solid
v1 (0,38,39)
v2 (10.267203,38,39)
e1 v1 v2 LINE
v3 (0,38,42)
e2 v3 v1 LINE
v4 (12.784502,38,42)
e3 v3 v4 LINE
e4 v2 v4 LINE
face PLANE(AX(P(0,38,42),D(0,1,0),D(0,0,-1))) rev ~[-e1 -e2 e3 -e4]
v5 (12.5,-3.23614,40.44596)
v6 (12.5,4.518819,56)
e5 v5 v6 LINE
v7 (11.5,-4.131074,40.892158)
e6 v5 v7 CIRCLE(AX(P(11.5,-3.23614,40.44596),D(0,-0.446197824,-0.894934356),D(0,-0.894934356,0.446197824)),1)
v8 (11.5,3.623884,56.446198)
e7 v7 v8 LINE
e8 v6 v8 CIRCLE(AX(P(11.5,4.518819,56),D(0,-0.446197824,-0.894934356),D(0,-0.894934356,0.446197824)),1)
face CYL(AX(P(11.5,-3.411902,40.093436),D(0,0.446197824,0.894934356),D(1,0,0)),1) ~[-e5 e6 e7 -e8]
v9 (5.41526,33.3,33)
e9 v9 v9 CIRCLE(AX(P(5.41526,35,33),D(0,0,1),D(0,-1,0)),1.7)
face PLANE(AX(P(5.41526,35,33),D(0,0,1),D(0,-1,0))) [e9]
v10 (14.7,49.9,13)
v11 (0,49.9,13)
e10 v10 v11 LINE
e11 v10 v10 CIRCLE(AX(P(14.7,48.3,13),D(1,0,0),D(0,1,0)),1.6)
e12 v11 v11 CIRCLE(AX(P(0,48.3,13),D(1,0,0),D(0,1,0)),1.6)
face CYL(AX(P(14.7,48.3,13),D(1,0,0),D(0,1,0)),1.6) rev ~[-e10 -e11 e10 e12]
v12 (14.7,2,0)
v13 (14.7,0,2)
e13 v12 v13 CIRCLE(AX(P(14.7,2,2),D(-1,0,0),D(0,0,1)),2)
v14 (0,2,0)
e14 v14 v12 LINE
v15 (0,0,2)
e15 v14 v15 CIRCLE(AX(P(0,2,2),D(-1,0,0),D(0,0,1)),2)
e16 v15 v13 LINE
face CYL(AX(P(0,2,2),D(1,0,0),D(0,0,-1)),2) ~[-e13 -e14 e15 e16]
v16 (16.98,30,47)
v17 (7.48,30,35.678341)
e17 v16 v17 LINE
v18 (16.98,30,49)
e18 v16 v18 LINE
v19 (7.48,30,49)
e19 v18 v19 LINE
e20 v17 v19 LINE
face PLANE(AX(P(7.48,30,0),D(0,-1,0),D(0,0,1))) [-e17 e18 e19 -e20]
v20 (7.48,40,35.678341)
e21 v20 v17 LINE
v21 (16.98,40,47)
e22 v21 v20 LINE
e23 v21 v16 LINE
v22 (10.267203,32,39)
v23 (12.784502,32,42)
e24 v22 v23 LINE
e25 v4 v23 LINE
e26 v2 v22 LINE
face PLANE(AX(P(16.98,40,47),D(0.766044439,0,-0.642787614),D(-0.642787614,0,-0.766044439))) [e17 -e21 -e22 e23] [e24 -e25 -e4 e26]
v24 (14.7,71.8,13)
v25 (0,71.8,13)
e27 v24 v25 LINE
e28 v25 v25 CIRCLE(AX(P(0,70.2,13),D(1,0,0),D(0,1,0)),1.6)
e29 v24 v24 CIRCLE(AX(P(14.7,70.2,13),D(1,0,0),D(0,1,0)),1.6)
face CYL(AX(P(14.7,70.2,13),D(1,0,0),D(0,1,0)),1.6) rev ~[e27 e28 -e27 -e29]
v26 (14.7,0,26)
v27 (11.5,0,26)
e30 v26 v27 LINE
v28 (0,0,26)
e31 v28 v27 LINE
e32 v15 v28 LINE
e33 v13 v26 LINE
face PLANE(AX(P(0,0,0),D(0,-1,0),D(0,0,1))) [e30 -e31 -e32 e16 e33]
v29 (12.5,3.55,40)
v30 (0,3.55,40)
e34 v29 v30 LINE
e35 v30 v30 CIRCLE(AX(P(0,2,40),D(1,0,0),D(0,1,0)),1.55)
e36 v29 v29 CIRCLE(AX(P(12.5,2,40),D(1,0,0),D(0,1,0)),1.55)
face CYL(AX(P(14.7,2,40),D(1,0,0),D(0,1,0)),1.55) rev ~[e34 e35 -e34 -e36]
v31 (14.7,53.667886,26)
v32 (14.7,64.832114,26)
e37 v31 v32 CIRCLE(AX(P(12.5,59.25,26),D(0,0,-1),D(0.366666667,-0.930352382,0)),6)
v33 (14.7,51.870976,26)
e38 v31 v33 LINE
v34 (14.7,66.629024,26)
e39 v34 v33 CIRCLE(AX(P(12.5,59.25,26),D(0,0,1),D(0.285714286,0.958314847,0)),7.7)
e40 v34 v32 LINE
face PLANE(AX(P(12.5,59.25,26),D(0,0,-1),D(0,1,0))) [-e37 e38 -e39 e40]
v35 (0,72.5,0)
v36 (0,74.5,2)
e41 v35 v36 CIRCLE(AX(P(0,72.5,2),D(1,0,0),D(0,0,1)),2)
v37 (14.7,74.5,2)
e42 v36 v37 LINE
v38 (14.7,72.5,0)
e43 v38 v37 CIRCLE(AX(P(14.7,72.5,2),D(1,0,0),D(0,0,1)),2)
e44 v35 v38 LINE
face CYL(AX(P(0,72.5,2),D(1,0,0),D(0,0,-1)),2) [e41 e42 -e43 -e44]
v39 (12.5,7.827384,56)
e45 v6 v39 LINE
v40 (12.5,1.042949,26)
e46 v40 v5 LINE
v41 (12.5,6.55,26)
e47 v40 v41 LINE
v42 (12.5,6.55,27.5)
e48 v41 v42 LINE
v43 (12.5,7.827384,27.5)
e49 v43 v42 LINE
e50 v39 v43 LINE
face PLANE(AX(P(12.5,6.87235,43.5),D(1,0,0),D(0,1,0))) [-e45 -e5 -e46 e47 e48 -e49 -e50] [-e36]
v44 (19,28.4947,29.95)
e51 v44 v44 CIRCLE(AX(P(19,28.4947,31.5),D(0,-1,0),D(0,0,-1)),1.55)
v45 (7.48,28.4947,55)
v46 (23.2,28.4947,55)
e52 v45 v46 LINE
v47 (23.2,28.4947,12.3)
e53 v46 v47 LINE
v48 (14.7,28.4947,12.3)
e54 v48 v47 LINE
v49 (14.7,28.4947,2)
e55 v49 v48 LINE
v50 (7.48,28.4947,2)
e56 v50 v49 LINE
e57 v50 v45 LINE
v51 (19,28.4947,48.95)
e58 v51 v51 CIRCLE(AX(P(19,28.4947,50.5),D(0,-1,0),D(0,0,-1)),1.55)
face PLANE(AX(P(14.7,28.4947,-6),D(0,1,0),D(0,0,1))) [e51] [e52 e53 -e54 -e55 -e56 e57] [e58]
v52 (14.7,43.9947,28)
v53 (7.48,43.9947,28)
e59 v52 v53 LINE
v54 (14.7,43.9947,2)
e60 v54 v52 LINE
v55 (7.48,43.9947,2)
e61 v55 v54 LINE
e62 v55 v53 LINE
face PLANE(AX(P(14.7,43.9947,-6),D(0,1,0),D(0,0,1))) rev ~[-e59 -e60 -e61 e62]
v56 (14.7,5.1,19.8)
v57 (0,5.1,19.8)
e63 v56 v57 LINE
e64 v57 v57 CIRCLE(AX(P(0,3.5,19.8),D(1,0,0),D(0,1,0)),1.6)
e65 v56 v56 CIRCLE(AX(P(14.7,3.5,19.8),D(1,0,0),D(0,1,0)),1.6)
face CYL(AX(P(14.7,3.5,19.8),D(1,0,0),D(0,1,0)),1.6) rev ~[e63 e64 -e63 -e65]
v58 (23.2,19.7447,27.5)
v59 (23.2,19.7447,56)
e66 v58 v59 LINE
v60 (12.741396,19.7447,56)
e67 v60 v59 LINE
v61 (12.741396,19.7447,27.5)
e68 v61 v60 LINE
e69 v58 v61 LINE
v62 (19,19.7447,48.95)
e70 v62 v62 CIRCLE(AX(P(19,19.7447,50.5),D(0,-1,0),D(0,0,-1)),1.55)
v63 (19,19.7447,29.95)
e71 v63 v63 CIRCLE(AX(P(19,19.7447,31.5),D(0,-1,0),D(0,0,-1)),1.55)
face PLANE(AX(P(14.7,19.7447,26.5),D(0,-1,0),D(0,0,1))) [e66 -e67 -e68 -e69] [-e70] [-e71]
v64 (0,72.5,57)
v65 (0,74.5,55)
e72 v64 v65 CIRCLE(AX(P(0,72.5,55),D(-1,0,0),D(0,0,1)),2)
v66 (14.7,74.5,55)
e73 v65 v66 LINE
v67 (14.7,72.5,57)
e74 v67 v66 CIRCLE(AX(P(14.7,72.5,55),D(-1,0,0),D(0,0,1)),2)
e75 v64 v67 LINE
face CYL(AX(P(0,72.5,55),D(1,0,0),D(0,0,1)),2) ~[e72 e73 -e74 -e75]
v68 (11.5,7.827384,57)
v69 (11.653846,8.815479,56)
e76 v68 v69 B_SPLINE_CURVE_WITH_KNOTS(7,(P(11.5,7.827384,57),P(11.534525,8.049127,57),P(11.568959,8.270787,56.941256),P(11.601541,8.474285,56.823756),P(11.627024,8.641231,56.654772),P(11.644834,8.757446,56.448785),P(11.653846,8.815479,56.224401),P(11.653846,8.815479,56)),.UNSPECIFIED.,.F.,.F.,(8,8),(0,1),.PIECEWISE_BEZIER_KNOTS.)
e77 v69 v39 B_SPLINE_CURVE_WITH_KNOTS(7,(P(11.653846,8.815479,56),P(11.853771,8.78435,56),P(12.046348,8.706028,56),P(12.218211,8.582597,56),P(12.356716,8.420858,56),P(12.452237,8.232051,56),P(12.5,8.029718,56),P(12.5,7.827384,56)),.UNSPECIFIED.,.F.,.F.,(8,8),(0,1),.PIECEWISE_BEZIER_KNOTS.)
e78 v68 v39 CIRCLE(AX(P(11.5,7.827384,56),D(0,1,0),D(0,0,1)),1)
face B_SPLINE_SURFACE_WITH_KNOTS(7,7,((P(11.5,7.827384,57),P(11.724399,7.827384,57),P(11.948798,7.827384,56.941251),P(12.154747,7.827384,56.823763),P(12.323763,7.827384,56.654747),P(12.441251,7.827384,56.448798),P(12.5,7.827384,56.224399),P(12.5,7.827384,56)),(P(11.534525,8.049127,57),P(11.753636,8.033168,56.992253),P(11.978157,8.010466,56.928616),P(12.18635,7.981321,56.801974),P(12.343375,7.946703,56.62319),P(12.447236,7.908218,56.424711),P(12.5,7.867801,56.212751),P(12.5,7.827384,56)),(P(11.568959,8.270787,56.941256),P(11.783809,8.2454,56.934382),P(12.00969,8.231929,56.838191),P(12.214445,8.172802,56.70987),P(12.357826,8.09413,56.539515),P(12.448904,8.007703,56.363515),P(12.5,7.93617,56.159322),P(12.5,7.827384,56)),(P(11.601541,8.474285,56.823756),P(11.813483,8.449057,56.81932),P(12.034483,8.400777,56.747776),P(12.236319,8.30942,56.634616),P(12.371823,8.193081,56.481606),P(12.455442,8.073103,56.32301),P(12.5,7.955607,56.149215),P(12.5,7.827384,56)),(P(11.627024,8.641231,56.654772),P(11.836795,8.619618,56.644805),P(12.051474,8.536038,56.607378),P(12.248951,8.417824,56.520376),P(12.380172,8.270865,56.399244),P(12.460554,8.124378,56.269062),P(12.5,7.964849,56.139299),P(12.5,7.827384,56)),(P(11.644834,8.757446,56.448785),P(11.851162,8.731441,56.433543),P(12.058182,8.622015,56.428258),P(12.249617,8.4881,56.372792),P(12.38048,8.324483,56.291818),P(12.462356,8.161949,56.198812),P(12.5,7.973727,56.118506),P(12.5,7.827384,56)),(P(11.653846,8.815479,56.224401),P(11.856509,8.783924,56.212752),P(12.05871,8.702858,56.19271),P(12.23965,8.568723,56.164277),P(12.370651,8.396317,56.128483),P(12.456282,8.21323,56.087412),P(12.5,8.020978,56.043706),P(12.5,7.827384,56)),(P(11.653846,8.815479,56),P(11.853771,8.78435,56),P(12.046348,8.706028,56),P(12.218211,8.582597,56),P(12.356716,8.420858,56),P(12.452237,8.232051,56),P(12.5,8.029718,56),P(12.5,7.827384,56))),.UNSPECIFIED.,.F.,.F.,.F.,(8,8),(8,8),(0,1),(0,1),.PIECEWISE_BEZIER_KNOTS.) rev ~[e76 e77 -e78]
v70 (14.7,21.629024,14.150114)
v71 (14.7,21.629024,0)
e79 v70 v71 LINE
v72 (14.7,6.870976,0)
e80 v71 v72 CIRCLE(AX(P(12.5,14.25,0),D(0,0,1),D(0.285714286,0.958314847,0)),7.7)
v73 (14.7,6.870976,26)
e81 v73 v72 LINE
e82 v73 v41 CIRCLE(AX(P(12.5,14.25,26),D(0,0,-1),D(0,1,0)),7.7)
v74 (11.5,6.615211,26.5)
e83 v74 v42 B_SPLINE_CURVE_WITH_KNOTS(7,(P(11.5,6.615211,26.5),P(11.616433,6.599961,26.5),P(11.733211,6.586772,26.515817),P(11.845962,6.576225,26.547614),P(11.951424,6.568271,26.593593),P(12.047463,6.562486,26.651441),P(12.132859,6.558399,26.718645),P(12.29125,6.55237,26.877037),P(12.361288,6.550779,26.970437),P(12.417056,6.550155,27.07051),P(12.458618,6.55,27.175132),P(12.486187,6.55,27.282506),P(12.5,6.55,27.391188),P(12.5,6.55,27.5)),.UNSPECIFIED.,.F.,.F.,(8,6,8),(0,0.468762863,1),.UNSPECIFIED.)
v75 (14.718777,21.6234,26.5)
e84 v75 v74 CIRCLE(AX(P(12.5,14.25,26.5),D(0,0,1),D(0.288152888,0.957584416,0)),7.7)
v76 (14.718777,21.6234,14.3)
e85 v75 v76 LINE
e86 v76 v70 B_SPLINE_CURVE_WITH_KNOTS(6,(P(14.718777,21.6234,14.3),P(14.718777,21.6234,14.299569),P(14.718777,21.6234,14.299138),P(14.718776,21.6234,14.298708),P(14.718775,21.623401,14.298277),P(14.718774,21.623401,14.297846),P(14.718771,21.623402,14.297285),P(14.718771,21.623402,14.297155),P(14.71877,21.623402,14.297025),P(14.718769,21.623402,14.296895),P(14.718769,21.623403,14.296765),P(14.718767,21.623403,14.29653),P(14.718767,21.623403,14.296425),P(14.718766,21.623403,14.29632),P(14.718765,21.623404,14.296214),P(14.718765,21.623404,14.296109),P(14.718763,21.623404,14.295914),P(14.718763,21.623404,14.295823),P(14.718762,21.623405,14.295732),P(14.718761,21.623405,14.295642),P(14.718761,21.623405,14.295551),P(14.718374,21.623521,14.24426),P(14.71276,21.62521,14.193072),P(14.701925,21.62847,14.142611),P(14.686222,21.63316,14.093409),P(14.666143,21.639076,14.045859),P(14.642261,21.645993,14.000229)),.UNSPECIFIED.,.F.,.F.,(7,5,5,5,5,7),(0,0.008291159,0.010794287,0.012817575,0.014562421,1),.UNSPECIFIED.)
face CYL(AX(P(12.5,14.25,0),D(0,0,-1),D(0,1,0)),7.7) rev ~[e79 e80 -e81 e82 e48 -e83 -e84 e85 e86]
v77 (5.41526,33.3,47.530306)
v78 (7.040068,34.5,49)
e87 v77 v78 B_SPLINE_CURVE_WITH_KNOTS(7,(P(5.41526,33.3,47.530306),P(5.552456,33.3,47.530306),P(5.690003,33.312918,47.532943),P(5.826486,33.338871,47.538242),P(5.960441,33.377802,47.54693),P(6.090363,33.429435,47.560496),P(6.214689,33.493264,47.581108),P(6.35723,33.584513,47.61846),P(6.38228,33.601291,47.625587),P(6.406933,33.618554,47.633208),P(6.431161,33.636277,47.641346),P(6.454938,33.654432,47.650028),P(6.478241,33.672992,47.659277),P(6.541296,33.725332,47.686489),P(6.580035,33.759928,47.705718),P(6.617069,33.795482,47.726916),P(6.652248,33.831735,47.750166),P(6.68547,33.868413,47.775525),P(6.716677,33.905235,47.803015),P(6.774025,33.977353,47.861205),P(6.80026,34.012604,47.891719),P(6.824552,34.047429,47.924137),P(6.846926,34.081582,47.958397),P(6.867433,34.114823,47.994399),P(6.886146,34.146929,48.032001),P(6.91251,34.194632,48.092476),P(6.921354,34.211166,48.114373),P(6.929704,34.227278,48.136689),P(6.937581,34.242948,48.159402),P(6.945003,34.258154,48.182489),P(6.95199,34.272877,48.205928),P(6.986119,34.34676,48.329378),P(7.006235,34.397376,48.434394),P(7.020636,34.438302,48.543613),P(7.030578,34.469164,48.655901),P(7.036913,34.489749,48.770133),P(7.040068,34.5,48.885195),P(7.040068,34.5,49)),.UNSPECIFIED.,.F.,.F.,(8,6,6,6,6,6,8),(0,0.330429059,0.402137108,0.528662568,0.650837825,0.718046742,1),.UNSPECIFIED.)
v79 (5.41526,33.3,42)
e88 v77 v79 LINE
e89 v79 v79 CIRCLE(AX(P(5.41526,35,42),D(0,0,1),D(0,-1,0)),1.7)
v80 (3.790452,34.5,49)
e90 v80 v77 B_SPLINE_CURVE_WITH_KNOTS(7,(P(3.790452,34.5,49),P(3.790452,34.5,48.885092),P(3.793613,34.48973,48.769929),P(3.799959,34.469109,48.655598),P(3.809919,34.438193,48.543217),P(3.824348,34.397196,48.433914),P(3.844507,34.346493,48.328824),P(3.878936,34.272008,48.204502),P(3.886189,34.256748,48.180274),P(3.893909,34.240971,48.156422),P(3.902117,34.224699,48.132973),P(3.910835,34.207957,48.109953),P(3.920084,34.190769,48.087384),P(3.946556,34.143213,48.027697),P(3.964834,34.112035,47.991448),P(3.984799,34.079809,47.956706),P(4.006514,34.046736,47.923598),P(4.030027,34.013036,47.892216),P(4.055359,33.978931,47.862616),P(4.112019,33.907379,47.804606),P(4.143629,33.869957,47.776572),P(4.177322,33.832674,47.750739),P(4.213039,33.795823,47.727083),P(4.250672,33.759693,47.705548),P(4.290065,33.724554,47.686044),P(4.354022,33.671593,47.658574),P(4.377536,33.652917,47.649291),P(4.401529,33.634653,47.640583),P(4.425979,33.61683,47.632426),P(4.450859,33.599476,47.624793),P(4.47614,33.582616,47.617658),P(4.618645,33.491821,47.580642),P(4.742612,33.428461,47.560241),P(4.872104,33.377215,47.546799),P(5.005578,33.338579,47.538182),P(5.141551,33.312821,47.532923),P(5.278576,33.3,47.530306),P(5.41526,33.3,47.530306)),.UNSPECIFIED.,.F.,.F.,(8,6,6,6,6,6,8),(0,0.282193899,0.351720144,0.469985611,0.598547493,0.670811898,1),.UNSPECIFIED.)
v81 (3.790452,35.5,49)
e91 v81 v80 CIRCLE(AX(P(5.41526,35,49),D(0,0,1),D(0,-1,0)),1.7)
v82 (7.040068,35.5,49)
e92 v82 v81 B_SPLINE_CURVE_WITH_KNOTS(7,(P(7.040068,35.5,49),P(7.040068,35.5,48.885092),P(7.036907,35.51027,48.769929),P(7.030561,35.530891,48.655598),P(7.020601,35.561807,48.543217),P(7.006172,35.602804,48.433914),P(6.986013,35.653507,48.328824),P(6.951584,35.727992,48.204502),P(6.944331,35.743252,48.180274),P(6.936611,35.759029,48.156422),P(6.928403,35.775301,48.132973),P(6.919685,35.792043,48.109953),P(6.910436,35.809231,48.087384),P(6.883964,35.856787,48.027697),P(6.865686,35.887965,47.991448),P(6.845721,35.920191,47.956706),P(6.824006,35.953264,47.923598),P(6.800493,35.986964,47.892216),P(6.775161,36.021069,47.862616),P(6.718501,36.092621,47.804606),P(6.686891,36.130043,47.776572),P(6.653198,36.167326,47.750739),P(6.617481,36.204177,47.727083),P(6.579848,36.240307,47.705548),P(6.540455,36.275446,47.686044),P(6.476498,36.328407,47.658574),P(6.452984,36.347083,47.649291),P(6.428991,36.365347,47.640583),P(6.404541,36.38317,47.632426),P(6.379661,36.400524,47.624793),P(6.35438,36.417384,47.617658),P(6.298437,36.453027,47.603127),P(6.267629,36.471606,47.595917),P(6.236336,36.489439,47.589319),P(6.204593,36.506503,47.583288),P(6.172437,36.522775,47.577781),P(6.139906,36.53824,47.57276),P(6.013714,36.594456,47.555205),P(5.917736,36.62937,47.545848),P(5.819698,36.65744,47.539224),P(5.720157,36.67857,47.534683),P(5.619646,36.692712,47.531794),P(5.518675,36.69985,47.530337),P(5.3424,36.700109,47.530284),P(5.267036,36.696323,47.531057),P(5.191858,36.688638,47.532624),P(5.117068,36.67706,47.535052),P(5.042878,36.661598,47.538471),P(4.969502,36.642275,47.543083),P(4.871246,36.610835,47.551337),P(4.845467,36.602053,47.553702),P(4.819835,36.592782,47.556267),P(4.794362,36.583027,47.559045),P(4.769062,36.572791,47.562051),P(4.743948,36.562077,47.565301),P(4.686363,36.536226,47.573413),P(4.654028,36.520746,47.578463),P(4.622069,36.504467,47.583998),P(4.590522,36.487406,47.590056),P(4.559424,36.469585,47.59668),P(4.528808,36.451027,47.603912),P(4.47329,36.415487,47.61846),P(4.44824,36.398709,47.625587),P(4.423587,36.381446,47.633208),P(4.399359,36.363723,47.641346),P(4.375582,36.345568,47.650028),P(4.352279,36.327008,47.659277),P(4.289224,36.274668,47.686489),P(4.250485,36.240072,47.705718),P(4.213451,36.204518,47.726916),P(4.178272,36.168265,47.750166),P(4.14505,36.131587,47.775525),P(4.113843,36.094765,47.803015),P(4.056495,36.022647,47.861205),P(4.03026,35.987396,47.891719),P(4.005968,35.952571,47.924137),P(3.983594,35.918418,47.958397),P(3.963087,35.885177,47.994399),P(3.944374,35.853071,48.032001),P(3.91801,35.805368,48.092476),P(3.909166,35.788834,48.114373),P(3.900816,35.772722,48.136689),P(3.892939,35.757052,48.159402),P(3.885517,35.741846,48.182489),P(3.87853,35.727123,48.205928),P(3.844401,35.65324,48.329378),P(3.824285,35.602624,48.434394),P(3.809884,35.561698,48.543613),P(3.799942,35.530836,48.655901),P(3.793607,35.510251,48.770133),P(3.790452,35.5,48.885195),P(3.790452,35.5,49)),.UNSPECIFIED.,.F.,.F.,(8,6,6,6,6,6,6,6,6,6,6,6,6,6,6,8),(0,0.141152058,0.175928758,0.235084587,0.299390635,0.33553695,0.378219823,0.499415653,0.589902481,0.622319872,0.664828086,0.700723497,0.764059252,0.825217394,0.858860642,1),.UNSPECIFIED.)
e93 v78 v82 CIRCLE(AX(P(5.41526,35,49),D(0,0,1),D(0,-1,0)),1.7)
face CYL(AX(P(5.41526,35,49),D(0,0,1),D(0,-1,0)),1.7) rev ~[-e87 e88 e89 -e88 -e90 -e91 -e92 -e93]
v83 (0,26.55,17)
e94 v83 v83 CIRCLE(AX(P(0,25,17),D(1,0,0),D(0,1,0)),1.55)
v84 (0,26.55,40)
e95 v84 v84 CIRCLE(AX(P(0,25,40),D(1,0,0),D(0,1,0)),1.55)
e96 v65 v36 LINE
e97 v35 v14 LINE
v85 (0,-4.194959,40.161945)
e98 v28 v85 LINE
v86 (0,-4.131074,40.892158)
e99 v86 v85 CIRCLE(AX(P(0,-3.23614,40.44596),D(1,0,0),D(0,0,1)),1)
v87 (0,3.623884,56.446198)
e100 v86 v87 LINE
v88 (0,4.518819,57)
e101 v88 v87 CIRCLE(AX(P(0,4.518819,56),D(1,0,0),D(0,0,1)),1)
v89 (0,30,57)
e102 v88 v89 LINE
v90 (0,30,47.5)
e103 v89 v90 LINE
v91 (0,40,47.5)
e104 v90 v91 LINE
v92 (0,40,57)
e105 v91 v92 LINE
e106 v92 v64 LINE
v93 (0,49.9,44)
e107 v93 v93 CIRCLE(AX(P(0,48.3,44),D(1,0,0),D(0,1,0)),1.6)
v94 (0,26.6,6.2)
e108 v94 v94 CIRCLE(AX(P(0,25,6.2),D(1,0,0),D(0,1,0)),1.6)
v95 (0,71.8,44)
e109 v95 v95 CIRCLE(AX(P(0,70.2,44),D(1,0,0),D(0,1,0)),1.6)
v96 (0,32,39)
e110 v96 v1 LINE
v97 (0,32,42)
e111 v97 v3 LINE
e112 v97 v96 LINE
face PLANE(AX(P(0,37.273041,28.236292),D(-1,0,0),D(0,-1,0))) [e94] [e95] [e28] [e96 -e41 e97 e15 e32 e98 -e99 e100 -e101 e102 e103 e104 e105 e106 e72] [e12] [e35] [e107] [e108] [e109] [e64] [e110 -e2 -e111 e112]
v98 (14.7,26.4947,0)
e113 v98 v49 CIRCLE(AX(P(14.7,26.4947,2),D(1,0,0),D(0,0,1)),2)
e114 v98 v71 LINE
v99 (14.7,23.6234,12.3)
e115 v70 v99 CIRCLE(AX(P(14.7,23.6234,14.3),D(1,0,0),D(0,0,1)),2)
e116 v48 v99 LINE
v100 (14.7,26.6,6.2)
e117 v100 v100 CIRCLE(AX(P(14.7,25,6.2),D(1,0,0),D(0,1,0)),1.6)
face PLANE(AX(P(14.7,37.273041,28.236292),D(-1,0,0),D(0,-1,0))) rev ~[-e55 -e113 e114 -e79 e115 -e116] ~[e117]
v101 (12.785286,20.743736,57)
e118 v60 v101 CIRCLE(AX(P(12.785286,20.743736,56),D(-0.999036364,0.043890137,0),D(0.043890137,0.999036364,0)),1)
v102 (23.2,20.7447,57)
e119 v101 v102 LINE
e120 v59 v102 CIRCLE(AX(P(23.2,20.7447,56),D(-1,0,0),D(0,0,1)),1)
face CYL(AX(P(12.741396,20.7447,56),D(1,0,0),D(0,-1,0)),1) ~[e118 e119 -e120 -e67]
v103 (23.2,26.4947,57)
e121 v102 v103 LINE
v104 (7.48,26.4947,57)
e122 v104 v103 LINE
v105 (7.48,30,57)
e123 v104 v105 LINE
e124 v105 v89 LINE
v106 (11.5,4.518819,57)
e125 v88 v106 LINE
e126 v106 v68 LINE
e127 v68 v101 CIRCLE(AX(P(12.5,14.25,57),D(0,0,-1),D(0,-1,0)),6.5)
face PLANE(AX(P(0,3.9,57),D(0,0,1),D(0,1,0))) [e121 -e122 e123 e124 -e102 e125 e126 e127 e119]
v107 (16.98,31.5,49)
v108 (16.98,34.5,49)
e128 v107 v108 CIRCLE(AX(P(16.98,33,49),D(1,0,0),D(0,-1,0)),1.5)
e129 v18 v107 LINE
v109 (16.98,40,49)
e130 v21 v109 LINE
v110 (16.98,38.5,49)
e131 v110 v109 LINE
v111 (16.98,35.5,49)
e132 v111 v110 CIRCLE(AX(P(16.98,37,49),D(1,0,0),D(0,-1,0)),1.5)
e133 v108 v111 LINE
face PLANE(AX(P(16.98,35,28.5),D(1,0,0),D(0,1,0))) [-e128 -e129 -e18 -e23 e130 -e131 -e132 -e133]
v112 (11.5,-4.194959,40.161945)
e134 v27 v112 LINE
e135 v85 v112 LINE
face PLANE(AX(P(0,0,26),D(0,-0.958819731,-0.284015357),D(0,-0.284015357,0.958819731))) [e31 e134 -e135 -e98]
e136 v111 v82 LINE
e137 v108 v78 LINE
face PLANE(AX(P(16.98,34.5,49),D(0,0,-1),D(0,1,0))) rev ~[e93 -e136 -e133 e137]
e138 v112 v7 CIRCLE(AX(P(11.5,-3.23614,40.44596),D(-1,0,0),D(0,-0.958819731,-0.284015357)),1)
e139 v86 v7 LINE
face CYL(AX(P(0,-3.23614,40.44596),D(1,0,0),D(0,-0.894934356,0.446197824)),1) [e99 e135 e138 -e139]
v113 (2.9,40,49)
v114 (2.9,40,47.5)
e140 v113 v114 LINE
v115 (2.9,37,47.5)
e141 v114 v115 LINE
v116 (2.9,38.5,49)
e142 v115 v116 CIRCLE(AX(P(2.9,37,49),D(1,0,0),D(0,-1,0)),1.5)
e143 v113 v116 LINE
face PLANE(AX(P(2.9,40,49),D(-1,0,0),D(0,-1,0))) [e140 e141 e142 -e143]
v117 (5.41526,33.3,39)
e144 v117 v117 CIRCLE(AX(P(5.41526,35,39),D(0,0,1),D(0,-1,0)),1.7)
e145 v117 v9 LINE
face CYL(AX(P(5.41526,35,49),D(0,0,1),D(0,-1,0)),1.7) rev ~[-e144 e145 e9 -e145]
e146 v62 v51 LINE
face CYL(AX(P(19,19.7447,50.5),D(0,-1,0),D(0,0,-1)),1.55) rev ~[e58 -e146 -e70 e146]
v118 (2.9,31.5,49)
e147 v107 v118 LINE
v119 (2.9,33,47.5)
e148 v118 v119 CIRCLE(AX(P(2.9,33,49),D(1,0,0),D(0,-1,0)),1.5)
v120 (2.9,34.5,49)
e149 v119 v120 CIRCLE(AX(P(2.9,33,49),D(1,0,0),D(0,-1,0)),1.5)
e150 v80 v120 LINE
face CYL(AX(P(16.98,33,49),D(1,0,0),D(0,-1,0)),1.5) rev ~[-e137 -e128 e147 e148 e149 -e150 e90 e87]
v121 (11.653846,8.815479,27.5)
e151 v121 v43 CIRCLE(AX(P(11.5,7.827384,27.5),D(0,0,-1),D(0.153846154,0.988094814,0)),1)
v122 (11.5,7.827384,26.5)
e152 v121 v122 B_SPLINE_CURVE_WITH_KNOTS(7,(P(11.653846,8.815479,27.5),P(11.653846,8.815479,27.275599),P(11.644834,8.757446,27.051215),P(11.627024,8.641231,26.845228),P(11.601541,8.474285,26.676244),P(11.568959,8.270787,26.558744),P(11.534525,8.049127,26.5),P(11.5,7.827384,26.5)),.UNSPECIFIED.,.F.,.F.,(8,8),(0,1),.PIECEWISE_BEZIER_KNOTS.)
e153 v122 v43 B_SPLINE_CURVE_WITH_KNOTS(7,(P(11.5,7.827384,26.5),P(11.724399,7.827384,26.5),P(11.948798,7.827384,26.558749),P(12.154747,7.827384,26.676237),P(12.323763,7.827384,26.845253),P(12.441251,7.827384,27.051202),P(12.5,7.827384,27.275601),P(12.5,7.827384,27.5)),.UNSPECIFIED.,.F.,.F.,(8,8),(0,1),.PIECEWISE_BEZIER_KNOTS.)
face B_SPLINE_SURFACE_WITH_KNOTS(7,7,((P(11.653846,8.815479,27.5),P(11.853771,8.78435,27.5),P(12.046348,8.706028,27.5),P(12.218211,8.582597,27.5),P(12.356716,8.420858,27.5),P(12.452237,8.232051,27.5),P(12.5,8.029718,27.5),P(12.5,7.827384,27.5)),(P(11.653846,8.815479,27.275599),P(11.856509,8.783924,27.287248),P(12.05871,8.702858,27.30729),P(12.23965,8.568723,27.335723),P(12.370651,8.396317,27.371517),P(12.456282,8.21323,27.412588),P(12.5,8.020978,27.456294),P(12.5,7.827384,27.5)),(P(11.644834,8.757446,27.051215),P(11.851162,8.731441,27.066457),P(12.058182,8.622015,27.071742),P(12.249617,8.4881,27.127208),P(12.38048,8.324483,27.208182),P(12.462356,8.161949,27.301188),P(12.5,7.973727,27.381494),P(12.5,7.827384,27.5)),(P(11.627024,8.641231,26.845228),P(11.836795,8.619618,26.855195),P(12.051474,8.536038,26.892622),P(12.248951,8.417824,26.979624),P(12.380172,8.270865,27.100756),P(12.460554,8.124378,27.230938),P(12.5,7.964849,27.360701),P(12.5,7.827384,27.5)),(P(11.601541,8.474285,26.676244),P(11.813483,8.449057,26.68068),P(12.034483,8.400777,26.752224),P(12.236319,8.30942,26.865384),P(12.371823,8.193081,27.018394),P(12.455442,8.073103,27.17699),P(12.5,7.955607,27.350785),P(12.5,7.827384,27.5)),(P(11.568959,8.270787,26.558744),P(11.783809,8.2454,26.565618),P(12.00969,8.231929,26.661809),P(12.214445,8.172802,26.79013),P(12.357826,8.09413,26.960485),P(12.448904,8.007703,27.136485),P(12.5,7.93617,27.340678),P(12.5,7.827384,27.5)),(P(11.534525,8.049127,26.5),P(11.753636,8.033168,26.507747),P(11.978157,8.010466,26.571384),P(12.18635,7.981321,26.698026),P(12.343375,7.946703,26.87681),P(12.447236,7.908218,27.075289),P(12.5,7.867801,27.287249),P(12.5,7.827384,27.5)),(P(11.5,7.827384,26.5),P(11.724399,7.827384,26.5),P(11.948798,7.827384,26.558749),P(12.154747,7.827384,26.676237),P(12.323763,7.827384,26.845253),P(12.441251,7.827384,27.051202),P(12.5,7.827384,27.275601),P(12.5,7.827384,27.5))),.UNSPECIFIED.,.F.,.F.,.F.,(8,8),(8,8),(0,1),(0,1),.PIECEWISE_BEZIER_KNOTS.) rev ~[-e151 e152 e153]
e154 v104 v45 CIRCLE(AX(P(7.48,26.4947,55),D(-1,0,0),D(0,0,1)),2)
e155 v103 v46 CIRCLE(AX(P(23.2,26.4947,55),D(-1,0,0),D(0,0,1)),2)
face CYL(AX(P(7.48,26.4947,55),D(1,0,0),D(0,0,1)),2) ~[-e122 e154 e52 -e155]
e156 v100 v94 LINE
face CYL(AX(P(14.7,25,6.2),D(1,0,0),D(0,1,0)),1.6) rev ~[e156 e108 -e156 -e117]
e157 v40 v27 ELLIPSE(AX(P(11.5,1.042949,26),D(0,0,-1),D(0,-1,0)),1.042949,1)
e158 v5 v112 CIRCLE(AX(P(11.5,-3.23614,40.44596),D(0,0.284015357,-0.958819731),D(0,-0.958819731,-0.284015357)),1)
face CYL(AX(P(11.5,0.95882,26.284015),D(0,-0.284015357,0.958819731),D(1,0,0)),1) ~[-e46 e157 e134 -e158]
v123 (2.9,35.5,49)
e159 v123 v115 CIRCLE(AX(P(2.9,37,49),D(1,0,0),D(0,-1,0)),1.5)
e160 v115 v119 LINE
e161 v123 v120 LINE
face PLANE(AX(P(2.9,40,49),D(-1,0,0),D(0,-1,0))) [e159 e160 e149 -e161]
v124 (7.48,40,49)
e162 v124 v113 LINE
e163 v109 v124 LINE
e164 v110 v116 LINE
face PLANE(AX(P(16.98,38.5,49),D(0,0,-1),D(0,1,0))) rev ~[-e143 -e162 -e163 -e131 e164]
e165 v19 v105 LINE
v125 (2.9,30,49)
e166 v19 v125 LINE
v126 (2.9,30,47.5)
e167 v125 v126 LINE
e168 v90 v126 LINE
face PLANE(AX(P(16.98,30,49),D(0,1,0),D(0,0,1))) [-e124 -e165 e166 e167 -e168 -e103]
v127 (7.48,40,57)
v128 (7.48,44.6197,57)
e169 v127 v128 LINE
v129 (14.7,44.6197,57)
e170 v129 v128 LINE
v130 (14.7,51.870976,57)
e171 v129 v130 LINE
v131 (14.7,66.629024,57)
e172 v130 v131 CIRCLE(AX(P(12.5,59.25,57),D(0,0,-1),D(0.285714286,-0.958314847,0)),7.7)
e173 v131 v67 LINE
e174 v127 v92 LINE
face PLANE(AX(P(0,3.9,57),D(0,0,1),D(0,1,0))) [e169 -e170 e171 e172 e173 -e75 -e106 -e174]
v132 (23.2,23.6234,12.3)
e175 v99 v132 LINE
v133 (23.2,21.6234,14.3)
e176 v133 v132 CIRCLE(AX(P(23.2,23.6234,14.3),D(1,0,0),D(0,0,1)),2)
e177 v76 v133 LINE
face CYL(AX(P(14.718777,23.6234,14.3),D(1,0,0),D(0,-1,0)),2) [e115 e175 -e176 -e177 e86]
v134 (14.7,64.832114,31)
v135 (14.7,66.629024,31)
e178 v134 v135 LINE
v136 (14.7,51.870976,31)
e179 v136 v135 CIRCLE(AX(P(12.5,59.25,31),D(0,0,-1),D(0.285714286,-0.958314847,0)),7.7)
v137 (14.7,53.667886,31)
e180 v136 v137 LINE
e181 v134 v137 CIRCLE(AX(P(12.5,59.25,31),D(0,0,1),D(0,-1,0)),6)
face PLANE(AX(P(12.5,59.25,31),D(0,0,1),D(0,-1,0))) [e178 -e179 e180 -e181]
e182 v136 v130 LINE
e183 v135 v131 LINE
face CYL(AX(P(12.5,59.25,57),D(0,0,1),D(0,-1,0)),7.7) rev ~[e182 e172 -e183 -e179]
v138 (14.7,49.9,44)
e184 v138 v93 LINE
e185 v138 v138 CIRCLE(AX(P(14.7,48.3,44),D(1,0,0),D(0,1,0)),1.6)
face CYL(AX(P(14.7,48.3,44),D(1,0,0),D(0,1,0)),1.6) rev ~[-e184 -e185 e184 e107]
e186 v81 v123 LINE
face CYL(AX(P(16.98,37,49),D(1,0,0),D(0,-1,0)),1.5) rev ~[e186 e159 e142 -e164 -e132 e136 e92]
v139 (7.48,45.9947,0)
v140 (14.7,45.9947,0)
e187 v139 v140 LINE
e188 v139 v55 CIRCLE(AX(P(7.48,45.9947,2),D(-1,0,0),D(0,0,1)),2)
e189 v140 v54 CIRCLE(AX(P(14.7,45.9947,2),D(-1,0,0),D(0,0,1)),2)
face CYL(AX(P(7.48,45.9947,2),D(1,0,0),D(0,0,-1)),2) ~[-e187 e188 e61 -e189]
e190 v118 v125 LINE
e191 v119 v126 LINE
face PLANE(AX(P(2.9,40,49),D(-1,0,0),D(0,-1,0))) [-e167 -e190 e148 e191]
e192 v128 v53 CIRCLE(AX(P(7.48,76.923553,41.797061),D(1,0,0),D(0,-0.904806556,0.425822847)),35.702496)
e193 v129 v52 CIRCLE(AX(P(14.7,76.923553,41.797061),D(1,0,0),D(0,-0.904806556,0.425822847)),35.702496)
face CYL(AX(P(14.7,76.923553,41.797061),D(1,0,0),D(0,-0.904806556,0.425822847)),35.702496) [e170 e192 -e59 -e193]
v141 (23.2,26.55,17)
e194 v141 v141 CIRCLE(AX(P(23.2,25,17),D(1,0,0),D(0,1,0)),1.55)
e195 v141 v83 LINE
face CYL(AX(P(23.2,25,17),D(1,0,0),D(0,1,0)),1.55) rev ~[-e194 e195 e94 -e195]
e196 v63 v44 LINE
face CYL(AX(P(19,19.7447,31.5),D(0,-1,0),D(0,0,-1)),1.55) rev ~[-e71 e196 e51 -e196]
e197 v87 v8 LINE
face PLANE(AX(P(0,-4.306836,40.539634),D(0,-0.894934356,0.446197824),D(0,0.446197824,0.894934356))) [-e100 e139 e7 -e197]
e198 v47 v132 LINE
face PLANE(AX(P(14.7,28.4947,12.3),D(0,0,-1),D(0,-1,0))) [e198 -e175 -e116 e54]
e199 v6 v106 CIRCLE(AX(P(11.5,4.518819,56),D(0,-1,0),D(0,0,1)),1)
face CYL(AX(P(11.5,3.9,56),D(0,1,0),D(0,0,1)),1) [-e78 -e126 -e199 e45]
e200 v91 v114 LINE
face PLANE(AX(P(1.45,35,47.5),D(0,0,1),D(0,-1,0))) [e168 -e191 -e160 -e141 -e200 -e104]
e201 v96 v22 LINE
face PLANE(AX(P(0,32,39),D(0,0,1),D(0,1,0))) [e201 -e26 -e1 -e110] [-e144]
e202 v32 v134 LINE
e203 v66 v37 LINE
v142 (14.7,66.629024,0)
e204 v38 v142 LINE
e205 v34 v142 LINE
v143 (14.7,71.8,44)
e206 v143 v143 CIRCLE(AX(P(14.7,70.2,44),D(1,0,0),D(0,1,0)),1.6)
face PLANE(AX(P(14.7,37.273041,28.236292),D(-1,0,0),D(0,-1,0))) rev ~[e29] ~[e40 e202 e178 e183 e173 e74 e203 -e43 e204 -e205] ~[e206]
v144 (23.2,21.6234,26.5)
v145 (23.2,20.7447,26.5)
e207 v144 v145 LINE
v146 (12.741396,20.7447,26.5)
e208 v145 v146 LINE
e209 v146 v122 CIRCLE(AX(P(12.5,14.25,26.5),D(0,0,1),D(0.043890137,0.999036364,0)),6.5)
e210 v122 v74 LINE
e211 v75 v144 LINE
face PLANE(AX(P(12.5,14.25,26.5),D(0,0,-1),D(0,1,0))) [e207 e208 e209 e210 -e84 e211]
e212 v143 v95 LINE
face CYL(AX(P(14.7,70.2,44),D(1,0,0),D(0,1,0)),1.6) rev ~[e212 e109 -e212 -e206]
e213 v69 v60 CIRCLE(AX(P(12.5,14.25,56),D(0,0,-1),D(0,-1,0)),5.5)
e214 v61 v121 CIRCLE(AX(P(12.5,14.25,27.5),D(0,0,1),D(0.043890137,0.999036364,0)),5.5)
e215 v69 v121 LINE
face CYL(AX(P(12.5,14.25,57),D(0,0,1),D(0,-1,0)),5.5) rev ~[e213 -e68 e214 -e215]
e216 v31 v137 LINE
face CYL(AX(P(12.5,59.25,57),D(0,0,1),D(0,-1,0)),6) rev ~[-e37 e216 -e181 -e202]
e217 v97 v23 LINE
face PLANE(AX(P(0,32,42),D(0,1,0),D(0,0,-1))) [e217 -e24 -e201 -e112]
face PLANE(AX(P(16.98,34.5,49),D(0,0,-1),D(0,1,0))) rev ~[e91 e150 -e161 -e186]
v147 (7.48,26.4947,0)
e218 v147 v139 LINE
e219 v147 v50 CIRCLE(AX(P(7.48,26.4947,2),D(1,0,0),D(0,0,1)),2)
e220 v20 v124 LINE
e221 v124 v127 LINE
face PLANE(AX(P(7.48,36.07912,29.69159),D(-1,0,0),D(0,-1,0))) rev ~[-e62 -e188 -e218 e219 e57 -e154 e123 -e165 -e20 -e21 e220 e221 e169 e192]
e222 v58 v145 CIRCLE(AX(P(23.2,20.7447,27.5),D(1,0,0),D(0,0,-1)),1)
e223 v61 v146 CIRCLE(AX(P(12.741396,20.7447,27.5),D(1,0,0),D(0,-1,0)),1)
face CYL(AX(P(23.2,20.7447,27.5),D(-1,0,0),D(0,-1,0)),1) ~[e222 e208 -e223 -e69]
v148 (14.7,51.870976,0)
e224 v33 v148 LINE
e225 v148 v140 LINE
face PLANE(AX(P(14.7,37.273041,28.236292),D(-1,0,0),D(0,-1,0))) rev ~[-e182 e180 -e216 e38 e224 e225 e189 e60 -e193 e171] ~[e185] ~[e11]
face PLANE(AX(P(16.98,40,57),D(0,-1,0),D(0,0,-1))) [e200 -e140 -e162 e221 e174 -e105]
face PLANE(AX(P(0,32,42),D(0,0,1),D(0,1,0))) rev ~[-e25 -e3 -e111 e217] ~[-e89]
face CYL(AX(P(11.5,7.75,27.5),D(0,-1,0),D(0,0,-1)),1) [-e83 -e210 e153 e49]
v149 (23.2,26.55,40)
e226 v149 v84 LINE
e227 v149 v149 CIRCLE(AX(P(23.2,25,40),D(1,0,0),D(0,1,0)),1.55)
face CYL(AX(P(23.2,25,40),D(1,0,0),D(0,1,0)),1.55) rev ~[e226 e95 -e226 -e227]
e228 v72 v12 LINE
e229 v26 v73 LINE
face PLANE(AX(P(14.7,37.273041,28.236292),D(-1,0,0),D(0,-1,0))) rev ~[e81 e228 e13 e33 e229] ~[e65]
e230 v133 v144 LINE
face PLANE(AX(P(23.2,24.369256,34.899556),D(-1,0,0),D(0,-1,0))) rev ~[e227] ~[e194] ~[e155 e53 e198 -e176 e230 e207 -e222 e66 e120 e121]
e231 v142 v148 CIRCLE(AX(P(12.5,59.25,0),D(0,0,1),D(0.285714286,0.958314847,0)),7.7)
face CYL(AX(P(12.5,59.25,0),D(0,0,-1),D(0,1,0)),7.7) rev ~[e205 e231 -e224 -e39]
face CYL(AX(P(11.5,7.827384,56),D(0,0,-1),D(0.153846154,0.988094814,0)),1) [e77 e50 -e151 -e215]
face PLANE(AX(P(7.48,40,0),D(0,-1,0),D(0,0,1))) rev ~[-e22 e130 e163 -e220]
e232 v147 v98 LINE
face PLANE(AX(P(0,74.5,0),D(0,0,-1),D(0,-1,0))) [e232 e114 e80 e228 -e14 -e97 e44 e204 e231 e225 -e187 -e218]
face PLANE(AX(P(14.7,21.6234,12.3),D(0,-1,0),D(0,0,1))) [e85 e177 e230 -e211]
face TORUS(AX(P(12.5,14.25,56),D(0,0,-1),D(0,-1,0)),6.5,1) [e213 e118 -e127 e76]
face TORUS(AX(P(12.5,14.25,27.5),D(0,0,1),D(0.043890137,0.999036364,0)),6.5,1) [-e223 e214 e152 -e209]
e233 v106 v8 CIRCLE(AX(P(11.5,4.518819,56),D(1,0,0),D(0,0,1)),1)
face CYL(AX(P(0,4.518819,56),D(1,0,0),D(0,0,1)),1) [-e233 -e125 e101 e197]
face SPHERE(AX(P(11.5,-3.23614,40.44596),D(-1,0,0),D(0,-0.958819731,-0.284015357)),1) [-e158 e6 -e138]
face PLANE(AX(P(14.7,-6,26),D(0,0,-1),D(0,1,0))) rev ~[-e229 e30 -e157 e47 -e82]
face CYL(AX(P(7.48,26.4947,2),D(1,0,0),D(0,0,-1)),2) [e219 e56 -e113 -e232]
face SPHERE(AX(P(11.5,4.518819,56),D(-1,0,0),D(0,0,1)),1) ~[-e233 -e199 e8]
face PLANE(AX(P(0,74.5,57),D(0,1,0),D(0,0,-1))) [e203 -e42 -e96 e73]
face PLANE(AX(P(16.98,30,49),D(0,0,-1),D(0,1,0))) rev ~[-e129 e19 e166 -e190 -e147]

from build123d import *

# Parameters (mm, degrees)
PAD007_DEPTH    = 14.7
PAD008_DEPTH    = 8.5
POCKET017_DEPTH = 7.22
SKETCH022_R     = 7.7
POCKET018_DEPTH = 26.5
SKETCH023_R     = 7.7
POCKET019_DEPTH = 26
SKETCH024_R     = 6
SKETCH024_R_2   = 5.5
POCKET020_DEPTH = 57.001
SKETCH025_R     = 7.7
POCKET021_DEPTH = 26
SKETCH020_W     = 25.7447
SKETCH020_H     = 35
POCKET022_DEPTH = 2.2
FILLET_R        = 1
FILLET001_R     = 1
FILLET002_R     = 2
SKETCH026_R     = 1.55
SKETCH026_R_2   = 1.6
POCKET023_DEPTH = 14.701
SKETCH027_R     = 1.55
POCKET024_DEPTH = 23.201
SKETCH028_R     = 1.55
POCKET025_DEPTH = 10
SKETCH029_W     = 10
SKETCH029_H     = 57
PAD009_DEPTH    = 9.5
POCKET026_DEPTH = 16.981
SKETCH031_W     = 10
SKETCH031_H     = 2.9
POCKET027_DEPTH = 1.5
POCKET028_DEPTH = 10
SKETCH033_R     = 1.7
POCKET029_DEPTH = 16
SKETCH_W        = 6
SKETCH_H        = 3
POCKET_DEPTH    = 23.201


with BuildPart() as part:
    # Sketch018 → Pad007 (new body)
    with BuildSketch(Plane.YZ):
        Polygon((0, 0), (0, 26), (-4.306836, 40.539634), (3.9, 57), (74.5, 57), (74.5, 0), align=None)
    extrude(amount=PAD007_DEPTH)

    # Sketch019 → Pad008 (new body)
    with BuildSketch(Plane.YZ.offset(14.7)):
        Polygon((19.7447, 57), (28.4947, 57), (28.4947, 12.3), (21.6234, 12.3), (21.6234, 26.5), (19.7447, 26.5), align=None)
    extrude(amount=PAD008_DEPTH)

    # Sketch021 → Pocket017 (cut)
    with BuildSketch(Plane.YZ.offset(14.7)):
        with BuildLine():
            ThreePointArc((44.6197, 57), (41.229345, 42.566333), (43.9947, 28))
            Line((43.9947, -6), (43.9947, 28))
            Line((43.9947, -6), (28.4947, -6))
            Line((28.4947, -6), (28.4947, 65))
            Line((28.4947, 65), (44.6197, 65))
            Line((44.6197, 65), (44.6197, 57))
        make_face()
    extrude(amount=-POCKET017_DEPTH, mode=Mode.SUBTRACT)

    # Sketch022 → Pocket018 (cut)
    with BuildSketch(Plane.YX):
        with Locations((14.25, 12.5)):
            Circle(SKETCH022_R)
    extrude(amount=-POCKET018_DEPTH, mode=Mode.SUBTRACT)

    # Sketch023 → Pocket019 (cut)
    with BuildSketch(Plane.YX):
        with Locations((59.25, 12.5)):
            Circle(SKETCH023_R)
    extrude(amount=-POCKET019_DEPTH, mode=Mode.SUBTRACT)

    # Sketch024 → Pocket020 (cut, through all)
    with BuildSketch(Plane(origin=(0, 0, 57), x_dir=(0, -1, 0), z_dir=(0, 0, 1))):
        with Locations((-59.25, 12.5)):
            Circle(SKETCH024_R)
        with Locations((-14.25, 12.5)):
            Circle(SKETCH024_R_2)
    extrude(amount=-POCKET020_DEPTH, mode=Mode.SUBTRACT)

    # Sketch025 → Pocket021 (cut)
    with BuildSketch(Plane(origin=(0, 0, 57), x_dir=(0, -1, 0), z_dir=(0, 0, 1))):
        with Locations((-59.25, 12.5)):
            Circle(SKETCH025_R)
    extrude(amount=-POCKET021_DEPTH, mode=Mode.SUBTRACT)

    # Sketch020 → Pocket022 (cut)
    with BuildSketch(Plane.YZ.offset(14.7)):
        with Locations((6.87235, 43.5)):
            Rectangle(SKETCH020_W, SKETCH020_H)
    extrude(amount=-POCKET022_DEPTH, mode=Mode.SUBTRACT)

    # Fillet
    fillet_edges = [part.edges().sort_by_distance(p)[0] for p in [
        (7.001325, 14.370727, 57),
        (7.001325, 14.370727, 26.5),
    ]]
    fillet(fillet_edges, radius=FILLET_R)

    # Fillet001
    fillet001_edges = [part.edges().sort_by_distance(p)[0] for p in [
        (6.25, 3.9, 57),
        (12.5, 5.825, 57),
        (12.5, -0.203418, 48.769817),
        (6.25, -4.306836, 40.539634),
        (12.5, -2.153418, 33.269817),
    ]]
    fillet(fillet001_edges, radius=FILLET001_R)

    # Fillet002
    fillet002_edges = [part.edges().sort_by_distance(p)[0] for p in [
        (7.35, 0, 0),
        (18.959389, 21.6234, 12.3),
        (11.09, 43.9947, 0),
        (11.09, 28.4947, 0),
        (7.35, 74.5, 0),
        (7.35, 74.5, 57),
        (11.09, 28.4947, 57),
        (18.95, 28.4947, 57),
    ]]
    fillet(fillet002_edges, radius=FILLET002_R)

    # Sketch026 → Pocket023 (cut, through all)
    with BuildSketch(Plane.YZ.offset(14.7)):
        with Locations((2, 40)):
            Circle(SKETCH026_R)
        with Locations((3.5, 19.8)):
            Circle(SKETCH026_R_2)
        with Locations((25, 6.2)):
            Circle(SKETCH026_R_2)
        with Locations((48.3, 44)):
            Circle(SKETCH026_R_2)
        with Locations((48.3, 13)):
            Circle(SKETCH026_R_2)
        with Locations((70.2, 44)):
            Circle(SKETCH026_R_2)
        with Locations((70.2, 13)):
            Circle(SKETCH026_R_2)
    extrude(amount=-POCKET023_DEPTH, mode=Mode.SUBTRACT)

    # Sketch027 → Pocket024 (cut, through all)
    with BuildSketch(Plane.YZ.offset(23.2)):
        with Locations((25, 40)):
            Circle(SKETCH027_R)
        with Locations((25, 17)):
            Circle(SKETCH027_R)
    extrude(amount=-POCKET024_DEPTH, mode=Mode.SUBTRACT)

    # Sketch028 → Pocket025 (cut)
    with BuildSketch(Plane(origin=(0, 19.7447, 0), x_dir=(0, 0, -1), z_dir=(0, -1, 0))):
        with Locations((-50.5, 19)):
            Circle(SKETCH028_R)
        with Locations((-31.5, 19)):
            Circle(SKETCH028_R)
    extrude(amount=-POCKET025_DEPTH, mode=Mode.SUBTRACT)

    # Sketch029 → Pad009 (new body)
    with BuildSketch(Plane.YZ.offset(7.48)):
        with Locations((35, 28.5)):
            Rectangle(SKETCH029_W, SKETCH029_H)
    extrude(amount=PAD009_DEPTH)

    # Sketch030 → Pocket026 (cut, through all)
    with BuildSketch(Plane.YZ.offset(16.98)):
        with BuildLine():
            Line((30, 49), (30, 57))
            Line((30, 57), (40, 57))
            Line((40, 57), (40, 49))
            Line((38.5, 49), (40, 49))
            ThreePointArc((35.5, 49), (37, 47.5), (38.5, 49))
            Line((34.5, 49), (35.5, 49))
            ThreePointArc((31.5, 49), (33, 47.5), (34.5, 49))
            Line((30, 49), (31.5, 49))
        make_face()
    extrude(amount=-POCKET026_DEPTH, mode=Mode.SUBTRACT)

    # Sketch031 → Pocket027 (cut)
    with BuildSketch(Plane(origin=(0, 0, 49), x_dir=(0, -1, 0), z_dir=(0, 0, 1))):
        with Locations((-35, 1.45)):
            Rectangle(SKETCH031_W, SKETCH031_H)
    extrude(amount=-POCKET027_DEPTH, mode=Mode.SUBTRACT)

    # Sketch032 → Pocket028 (cut)
    with BuildSketch(Plane.ZX.offset(40)):
        Polygon((0, 7.48), (0, 16.98), (47, 16.98), (35.678341, 7.48), align=None)
    extrude(amount=-POCKET028_DEPTH, mode=Mode.SUBTRACT)

    # Sketch033 → Pocket029 (cut)
    with BuildSketch(Plane(origin=(0, 0, 49), x_dir=(0, -1, 0), z_dir=(0, 0, 1))):
        with Locations((-35, 5.41526)):
            Circle(SKETCH033_R)
    extrude(amount=-POCKET029_DEPTH, mode=Mode.SUBTRACT)

    # Sketch → Pocket (cut, through all)
    with BuildSketch(Plane(origin=(0, 0, 0), x_dir=(0, 1, 0), z_dir=(-1, 0, 0))):
        with Locations((35, -40.5)):
            Rectangle(SKETCH_W, SKETCH_H)
    extrude(amount=-POCKET_DEPTH, mode=Mode.SUBTRACT)


solid = part.part
